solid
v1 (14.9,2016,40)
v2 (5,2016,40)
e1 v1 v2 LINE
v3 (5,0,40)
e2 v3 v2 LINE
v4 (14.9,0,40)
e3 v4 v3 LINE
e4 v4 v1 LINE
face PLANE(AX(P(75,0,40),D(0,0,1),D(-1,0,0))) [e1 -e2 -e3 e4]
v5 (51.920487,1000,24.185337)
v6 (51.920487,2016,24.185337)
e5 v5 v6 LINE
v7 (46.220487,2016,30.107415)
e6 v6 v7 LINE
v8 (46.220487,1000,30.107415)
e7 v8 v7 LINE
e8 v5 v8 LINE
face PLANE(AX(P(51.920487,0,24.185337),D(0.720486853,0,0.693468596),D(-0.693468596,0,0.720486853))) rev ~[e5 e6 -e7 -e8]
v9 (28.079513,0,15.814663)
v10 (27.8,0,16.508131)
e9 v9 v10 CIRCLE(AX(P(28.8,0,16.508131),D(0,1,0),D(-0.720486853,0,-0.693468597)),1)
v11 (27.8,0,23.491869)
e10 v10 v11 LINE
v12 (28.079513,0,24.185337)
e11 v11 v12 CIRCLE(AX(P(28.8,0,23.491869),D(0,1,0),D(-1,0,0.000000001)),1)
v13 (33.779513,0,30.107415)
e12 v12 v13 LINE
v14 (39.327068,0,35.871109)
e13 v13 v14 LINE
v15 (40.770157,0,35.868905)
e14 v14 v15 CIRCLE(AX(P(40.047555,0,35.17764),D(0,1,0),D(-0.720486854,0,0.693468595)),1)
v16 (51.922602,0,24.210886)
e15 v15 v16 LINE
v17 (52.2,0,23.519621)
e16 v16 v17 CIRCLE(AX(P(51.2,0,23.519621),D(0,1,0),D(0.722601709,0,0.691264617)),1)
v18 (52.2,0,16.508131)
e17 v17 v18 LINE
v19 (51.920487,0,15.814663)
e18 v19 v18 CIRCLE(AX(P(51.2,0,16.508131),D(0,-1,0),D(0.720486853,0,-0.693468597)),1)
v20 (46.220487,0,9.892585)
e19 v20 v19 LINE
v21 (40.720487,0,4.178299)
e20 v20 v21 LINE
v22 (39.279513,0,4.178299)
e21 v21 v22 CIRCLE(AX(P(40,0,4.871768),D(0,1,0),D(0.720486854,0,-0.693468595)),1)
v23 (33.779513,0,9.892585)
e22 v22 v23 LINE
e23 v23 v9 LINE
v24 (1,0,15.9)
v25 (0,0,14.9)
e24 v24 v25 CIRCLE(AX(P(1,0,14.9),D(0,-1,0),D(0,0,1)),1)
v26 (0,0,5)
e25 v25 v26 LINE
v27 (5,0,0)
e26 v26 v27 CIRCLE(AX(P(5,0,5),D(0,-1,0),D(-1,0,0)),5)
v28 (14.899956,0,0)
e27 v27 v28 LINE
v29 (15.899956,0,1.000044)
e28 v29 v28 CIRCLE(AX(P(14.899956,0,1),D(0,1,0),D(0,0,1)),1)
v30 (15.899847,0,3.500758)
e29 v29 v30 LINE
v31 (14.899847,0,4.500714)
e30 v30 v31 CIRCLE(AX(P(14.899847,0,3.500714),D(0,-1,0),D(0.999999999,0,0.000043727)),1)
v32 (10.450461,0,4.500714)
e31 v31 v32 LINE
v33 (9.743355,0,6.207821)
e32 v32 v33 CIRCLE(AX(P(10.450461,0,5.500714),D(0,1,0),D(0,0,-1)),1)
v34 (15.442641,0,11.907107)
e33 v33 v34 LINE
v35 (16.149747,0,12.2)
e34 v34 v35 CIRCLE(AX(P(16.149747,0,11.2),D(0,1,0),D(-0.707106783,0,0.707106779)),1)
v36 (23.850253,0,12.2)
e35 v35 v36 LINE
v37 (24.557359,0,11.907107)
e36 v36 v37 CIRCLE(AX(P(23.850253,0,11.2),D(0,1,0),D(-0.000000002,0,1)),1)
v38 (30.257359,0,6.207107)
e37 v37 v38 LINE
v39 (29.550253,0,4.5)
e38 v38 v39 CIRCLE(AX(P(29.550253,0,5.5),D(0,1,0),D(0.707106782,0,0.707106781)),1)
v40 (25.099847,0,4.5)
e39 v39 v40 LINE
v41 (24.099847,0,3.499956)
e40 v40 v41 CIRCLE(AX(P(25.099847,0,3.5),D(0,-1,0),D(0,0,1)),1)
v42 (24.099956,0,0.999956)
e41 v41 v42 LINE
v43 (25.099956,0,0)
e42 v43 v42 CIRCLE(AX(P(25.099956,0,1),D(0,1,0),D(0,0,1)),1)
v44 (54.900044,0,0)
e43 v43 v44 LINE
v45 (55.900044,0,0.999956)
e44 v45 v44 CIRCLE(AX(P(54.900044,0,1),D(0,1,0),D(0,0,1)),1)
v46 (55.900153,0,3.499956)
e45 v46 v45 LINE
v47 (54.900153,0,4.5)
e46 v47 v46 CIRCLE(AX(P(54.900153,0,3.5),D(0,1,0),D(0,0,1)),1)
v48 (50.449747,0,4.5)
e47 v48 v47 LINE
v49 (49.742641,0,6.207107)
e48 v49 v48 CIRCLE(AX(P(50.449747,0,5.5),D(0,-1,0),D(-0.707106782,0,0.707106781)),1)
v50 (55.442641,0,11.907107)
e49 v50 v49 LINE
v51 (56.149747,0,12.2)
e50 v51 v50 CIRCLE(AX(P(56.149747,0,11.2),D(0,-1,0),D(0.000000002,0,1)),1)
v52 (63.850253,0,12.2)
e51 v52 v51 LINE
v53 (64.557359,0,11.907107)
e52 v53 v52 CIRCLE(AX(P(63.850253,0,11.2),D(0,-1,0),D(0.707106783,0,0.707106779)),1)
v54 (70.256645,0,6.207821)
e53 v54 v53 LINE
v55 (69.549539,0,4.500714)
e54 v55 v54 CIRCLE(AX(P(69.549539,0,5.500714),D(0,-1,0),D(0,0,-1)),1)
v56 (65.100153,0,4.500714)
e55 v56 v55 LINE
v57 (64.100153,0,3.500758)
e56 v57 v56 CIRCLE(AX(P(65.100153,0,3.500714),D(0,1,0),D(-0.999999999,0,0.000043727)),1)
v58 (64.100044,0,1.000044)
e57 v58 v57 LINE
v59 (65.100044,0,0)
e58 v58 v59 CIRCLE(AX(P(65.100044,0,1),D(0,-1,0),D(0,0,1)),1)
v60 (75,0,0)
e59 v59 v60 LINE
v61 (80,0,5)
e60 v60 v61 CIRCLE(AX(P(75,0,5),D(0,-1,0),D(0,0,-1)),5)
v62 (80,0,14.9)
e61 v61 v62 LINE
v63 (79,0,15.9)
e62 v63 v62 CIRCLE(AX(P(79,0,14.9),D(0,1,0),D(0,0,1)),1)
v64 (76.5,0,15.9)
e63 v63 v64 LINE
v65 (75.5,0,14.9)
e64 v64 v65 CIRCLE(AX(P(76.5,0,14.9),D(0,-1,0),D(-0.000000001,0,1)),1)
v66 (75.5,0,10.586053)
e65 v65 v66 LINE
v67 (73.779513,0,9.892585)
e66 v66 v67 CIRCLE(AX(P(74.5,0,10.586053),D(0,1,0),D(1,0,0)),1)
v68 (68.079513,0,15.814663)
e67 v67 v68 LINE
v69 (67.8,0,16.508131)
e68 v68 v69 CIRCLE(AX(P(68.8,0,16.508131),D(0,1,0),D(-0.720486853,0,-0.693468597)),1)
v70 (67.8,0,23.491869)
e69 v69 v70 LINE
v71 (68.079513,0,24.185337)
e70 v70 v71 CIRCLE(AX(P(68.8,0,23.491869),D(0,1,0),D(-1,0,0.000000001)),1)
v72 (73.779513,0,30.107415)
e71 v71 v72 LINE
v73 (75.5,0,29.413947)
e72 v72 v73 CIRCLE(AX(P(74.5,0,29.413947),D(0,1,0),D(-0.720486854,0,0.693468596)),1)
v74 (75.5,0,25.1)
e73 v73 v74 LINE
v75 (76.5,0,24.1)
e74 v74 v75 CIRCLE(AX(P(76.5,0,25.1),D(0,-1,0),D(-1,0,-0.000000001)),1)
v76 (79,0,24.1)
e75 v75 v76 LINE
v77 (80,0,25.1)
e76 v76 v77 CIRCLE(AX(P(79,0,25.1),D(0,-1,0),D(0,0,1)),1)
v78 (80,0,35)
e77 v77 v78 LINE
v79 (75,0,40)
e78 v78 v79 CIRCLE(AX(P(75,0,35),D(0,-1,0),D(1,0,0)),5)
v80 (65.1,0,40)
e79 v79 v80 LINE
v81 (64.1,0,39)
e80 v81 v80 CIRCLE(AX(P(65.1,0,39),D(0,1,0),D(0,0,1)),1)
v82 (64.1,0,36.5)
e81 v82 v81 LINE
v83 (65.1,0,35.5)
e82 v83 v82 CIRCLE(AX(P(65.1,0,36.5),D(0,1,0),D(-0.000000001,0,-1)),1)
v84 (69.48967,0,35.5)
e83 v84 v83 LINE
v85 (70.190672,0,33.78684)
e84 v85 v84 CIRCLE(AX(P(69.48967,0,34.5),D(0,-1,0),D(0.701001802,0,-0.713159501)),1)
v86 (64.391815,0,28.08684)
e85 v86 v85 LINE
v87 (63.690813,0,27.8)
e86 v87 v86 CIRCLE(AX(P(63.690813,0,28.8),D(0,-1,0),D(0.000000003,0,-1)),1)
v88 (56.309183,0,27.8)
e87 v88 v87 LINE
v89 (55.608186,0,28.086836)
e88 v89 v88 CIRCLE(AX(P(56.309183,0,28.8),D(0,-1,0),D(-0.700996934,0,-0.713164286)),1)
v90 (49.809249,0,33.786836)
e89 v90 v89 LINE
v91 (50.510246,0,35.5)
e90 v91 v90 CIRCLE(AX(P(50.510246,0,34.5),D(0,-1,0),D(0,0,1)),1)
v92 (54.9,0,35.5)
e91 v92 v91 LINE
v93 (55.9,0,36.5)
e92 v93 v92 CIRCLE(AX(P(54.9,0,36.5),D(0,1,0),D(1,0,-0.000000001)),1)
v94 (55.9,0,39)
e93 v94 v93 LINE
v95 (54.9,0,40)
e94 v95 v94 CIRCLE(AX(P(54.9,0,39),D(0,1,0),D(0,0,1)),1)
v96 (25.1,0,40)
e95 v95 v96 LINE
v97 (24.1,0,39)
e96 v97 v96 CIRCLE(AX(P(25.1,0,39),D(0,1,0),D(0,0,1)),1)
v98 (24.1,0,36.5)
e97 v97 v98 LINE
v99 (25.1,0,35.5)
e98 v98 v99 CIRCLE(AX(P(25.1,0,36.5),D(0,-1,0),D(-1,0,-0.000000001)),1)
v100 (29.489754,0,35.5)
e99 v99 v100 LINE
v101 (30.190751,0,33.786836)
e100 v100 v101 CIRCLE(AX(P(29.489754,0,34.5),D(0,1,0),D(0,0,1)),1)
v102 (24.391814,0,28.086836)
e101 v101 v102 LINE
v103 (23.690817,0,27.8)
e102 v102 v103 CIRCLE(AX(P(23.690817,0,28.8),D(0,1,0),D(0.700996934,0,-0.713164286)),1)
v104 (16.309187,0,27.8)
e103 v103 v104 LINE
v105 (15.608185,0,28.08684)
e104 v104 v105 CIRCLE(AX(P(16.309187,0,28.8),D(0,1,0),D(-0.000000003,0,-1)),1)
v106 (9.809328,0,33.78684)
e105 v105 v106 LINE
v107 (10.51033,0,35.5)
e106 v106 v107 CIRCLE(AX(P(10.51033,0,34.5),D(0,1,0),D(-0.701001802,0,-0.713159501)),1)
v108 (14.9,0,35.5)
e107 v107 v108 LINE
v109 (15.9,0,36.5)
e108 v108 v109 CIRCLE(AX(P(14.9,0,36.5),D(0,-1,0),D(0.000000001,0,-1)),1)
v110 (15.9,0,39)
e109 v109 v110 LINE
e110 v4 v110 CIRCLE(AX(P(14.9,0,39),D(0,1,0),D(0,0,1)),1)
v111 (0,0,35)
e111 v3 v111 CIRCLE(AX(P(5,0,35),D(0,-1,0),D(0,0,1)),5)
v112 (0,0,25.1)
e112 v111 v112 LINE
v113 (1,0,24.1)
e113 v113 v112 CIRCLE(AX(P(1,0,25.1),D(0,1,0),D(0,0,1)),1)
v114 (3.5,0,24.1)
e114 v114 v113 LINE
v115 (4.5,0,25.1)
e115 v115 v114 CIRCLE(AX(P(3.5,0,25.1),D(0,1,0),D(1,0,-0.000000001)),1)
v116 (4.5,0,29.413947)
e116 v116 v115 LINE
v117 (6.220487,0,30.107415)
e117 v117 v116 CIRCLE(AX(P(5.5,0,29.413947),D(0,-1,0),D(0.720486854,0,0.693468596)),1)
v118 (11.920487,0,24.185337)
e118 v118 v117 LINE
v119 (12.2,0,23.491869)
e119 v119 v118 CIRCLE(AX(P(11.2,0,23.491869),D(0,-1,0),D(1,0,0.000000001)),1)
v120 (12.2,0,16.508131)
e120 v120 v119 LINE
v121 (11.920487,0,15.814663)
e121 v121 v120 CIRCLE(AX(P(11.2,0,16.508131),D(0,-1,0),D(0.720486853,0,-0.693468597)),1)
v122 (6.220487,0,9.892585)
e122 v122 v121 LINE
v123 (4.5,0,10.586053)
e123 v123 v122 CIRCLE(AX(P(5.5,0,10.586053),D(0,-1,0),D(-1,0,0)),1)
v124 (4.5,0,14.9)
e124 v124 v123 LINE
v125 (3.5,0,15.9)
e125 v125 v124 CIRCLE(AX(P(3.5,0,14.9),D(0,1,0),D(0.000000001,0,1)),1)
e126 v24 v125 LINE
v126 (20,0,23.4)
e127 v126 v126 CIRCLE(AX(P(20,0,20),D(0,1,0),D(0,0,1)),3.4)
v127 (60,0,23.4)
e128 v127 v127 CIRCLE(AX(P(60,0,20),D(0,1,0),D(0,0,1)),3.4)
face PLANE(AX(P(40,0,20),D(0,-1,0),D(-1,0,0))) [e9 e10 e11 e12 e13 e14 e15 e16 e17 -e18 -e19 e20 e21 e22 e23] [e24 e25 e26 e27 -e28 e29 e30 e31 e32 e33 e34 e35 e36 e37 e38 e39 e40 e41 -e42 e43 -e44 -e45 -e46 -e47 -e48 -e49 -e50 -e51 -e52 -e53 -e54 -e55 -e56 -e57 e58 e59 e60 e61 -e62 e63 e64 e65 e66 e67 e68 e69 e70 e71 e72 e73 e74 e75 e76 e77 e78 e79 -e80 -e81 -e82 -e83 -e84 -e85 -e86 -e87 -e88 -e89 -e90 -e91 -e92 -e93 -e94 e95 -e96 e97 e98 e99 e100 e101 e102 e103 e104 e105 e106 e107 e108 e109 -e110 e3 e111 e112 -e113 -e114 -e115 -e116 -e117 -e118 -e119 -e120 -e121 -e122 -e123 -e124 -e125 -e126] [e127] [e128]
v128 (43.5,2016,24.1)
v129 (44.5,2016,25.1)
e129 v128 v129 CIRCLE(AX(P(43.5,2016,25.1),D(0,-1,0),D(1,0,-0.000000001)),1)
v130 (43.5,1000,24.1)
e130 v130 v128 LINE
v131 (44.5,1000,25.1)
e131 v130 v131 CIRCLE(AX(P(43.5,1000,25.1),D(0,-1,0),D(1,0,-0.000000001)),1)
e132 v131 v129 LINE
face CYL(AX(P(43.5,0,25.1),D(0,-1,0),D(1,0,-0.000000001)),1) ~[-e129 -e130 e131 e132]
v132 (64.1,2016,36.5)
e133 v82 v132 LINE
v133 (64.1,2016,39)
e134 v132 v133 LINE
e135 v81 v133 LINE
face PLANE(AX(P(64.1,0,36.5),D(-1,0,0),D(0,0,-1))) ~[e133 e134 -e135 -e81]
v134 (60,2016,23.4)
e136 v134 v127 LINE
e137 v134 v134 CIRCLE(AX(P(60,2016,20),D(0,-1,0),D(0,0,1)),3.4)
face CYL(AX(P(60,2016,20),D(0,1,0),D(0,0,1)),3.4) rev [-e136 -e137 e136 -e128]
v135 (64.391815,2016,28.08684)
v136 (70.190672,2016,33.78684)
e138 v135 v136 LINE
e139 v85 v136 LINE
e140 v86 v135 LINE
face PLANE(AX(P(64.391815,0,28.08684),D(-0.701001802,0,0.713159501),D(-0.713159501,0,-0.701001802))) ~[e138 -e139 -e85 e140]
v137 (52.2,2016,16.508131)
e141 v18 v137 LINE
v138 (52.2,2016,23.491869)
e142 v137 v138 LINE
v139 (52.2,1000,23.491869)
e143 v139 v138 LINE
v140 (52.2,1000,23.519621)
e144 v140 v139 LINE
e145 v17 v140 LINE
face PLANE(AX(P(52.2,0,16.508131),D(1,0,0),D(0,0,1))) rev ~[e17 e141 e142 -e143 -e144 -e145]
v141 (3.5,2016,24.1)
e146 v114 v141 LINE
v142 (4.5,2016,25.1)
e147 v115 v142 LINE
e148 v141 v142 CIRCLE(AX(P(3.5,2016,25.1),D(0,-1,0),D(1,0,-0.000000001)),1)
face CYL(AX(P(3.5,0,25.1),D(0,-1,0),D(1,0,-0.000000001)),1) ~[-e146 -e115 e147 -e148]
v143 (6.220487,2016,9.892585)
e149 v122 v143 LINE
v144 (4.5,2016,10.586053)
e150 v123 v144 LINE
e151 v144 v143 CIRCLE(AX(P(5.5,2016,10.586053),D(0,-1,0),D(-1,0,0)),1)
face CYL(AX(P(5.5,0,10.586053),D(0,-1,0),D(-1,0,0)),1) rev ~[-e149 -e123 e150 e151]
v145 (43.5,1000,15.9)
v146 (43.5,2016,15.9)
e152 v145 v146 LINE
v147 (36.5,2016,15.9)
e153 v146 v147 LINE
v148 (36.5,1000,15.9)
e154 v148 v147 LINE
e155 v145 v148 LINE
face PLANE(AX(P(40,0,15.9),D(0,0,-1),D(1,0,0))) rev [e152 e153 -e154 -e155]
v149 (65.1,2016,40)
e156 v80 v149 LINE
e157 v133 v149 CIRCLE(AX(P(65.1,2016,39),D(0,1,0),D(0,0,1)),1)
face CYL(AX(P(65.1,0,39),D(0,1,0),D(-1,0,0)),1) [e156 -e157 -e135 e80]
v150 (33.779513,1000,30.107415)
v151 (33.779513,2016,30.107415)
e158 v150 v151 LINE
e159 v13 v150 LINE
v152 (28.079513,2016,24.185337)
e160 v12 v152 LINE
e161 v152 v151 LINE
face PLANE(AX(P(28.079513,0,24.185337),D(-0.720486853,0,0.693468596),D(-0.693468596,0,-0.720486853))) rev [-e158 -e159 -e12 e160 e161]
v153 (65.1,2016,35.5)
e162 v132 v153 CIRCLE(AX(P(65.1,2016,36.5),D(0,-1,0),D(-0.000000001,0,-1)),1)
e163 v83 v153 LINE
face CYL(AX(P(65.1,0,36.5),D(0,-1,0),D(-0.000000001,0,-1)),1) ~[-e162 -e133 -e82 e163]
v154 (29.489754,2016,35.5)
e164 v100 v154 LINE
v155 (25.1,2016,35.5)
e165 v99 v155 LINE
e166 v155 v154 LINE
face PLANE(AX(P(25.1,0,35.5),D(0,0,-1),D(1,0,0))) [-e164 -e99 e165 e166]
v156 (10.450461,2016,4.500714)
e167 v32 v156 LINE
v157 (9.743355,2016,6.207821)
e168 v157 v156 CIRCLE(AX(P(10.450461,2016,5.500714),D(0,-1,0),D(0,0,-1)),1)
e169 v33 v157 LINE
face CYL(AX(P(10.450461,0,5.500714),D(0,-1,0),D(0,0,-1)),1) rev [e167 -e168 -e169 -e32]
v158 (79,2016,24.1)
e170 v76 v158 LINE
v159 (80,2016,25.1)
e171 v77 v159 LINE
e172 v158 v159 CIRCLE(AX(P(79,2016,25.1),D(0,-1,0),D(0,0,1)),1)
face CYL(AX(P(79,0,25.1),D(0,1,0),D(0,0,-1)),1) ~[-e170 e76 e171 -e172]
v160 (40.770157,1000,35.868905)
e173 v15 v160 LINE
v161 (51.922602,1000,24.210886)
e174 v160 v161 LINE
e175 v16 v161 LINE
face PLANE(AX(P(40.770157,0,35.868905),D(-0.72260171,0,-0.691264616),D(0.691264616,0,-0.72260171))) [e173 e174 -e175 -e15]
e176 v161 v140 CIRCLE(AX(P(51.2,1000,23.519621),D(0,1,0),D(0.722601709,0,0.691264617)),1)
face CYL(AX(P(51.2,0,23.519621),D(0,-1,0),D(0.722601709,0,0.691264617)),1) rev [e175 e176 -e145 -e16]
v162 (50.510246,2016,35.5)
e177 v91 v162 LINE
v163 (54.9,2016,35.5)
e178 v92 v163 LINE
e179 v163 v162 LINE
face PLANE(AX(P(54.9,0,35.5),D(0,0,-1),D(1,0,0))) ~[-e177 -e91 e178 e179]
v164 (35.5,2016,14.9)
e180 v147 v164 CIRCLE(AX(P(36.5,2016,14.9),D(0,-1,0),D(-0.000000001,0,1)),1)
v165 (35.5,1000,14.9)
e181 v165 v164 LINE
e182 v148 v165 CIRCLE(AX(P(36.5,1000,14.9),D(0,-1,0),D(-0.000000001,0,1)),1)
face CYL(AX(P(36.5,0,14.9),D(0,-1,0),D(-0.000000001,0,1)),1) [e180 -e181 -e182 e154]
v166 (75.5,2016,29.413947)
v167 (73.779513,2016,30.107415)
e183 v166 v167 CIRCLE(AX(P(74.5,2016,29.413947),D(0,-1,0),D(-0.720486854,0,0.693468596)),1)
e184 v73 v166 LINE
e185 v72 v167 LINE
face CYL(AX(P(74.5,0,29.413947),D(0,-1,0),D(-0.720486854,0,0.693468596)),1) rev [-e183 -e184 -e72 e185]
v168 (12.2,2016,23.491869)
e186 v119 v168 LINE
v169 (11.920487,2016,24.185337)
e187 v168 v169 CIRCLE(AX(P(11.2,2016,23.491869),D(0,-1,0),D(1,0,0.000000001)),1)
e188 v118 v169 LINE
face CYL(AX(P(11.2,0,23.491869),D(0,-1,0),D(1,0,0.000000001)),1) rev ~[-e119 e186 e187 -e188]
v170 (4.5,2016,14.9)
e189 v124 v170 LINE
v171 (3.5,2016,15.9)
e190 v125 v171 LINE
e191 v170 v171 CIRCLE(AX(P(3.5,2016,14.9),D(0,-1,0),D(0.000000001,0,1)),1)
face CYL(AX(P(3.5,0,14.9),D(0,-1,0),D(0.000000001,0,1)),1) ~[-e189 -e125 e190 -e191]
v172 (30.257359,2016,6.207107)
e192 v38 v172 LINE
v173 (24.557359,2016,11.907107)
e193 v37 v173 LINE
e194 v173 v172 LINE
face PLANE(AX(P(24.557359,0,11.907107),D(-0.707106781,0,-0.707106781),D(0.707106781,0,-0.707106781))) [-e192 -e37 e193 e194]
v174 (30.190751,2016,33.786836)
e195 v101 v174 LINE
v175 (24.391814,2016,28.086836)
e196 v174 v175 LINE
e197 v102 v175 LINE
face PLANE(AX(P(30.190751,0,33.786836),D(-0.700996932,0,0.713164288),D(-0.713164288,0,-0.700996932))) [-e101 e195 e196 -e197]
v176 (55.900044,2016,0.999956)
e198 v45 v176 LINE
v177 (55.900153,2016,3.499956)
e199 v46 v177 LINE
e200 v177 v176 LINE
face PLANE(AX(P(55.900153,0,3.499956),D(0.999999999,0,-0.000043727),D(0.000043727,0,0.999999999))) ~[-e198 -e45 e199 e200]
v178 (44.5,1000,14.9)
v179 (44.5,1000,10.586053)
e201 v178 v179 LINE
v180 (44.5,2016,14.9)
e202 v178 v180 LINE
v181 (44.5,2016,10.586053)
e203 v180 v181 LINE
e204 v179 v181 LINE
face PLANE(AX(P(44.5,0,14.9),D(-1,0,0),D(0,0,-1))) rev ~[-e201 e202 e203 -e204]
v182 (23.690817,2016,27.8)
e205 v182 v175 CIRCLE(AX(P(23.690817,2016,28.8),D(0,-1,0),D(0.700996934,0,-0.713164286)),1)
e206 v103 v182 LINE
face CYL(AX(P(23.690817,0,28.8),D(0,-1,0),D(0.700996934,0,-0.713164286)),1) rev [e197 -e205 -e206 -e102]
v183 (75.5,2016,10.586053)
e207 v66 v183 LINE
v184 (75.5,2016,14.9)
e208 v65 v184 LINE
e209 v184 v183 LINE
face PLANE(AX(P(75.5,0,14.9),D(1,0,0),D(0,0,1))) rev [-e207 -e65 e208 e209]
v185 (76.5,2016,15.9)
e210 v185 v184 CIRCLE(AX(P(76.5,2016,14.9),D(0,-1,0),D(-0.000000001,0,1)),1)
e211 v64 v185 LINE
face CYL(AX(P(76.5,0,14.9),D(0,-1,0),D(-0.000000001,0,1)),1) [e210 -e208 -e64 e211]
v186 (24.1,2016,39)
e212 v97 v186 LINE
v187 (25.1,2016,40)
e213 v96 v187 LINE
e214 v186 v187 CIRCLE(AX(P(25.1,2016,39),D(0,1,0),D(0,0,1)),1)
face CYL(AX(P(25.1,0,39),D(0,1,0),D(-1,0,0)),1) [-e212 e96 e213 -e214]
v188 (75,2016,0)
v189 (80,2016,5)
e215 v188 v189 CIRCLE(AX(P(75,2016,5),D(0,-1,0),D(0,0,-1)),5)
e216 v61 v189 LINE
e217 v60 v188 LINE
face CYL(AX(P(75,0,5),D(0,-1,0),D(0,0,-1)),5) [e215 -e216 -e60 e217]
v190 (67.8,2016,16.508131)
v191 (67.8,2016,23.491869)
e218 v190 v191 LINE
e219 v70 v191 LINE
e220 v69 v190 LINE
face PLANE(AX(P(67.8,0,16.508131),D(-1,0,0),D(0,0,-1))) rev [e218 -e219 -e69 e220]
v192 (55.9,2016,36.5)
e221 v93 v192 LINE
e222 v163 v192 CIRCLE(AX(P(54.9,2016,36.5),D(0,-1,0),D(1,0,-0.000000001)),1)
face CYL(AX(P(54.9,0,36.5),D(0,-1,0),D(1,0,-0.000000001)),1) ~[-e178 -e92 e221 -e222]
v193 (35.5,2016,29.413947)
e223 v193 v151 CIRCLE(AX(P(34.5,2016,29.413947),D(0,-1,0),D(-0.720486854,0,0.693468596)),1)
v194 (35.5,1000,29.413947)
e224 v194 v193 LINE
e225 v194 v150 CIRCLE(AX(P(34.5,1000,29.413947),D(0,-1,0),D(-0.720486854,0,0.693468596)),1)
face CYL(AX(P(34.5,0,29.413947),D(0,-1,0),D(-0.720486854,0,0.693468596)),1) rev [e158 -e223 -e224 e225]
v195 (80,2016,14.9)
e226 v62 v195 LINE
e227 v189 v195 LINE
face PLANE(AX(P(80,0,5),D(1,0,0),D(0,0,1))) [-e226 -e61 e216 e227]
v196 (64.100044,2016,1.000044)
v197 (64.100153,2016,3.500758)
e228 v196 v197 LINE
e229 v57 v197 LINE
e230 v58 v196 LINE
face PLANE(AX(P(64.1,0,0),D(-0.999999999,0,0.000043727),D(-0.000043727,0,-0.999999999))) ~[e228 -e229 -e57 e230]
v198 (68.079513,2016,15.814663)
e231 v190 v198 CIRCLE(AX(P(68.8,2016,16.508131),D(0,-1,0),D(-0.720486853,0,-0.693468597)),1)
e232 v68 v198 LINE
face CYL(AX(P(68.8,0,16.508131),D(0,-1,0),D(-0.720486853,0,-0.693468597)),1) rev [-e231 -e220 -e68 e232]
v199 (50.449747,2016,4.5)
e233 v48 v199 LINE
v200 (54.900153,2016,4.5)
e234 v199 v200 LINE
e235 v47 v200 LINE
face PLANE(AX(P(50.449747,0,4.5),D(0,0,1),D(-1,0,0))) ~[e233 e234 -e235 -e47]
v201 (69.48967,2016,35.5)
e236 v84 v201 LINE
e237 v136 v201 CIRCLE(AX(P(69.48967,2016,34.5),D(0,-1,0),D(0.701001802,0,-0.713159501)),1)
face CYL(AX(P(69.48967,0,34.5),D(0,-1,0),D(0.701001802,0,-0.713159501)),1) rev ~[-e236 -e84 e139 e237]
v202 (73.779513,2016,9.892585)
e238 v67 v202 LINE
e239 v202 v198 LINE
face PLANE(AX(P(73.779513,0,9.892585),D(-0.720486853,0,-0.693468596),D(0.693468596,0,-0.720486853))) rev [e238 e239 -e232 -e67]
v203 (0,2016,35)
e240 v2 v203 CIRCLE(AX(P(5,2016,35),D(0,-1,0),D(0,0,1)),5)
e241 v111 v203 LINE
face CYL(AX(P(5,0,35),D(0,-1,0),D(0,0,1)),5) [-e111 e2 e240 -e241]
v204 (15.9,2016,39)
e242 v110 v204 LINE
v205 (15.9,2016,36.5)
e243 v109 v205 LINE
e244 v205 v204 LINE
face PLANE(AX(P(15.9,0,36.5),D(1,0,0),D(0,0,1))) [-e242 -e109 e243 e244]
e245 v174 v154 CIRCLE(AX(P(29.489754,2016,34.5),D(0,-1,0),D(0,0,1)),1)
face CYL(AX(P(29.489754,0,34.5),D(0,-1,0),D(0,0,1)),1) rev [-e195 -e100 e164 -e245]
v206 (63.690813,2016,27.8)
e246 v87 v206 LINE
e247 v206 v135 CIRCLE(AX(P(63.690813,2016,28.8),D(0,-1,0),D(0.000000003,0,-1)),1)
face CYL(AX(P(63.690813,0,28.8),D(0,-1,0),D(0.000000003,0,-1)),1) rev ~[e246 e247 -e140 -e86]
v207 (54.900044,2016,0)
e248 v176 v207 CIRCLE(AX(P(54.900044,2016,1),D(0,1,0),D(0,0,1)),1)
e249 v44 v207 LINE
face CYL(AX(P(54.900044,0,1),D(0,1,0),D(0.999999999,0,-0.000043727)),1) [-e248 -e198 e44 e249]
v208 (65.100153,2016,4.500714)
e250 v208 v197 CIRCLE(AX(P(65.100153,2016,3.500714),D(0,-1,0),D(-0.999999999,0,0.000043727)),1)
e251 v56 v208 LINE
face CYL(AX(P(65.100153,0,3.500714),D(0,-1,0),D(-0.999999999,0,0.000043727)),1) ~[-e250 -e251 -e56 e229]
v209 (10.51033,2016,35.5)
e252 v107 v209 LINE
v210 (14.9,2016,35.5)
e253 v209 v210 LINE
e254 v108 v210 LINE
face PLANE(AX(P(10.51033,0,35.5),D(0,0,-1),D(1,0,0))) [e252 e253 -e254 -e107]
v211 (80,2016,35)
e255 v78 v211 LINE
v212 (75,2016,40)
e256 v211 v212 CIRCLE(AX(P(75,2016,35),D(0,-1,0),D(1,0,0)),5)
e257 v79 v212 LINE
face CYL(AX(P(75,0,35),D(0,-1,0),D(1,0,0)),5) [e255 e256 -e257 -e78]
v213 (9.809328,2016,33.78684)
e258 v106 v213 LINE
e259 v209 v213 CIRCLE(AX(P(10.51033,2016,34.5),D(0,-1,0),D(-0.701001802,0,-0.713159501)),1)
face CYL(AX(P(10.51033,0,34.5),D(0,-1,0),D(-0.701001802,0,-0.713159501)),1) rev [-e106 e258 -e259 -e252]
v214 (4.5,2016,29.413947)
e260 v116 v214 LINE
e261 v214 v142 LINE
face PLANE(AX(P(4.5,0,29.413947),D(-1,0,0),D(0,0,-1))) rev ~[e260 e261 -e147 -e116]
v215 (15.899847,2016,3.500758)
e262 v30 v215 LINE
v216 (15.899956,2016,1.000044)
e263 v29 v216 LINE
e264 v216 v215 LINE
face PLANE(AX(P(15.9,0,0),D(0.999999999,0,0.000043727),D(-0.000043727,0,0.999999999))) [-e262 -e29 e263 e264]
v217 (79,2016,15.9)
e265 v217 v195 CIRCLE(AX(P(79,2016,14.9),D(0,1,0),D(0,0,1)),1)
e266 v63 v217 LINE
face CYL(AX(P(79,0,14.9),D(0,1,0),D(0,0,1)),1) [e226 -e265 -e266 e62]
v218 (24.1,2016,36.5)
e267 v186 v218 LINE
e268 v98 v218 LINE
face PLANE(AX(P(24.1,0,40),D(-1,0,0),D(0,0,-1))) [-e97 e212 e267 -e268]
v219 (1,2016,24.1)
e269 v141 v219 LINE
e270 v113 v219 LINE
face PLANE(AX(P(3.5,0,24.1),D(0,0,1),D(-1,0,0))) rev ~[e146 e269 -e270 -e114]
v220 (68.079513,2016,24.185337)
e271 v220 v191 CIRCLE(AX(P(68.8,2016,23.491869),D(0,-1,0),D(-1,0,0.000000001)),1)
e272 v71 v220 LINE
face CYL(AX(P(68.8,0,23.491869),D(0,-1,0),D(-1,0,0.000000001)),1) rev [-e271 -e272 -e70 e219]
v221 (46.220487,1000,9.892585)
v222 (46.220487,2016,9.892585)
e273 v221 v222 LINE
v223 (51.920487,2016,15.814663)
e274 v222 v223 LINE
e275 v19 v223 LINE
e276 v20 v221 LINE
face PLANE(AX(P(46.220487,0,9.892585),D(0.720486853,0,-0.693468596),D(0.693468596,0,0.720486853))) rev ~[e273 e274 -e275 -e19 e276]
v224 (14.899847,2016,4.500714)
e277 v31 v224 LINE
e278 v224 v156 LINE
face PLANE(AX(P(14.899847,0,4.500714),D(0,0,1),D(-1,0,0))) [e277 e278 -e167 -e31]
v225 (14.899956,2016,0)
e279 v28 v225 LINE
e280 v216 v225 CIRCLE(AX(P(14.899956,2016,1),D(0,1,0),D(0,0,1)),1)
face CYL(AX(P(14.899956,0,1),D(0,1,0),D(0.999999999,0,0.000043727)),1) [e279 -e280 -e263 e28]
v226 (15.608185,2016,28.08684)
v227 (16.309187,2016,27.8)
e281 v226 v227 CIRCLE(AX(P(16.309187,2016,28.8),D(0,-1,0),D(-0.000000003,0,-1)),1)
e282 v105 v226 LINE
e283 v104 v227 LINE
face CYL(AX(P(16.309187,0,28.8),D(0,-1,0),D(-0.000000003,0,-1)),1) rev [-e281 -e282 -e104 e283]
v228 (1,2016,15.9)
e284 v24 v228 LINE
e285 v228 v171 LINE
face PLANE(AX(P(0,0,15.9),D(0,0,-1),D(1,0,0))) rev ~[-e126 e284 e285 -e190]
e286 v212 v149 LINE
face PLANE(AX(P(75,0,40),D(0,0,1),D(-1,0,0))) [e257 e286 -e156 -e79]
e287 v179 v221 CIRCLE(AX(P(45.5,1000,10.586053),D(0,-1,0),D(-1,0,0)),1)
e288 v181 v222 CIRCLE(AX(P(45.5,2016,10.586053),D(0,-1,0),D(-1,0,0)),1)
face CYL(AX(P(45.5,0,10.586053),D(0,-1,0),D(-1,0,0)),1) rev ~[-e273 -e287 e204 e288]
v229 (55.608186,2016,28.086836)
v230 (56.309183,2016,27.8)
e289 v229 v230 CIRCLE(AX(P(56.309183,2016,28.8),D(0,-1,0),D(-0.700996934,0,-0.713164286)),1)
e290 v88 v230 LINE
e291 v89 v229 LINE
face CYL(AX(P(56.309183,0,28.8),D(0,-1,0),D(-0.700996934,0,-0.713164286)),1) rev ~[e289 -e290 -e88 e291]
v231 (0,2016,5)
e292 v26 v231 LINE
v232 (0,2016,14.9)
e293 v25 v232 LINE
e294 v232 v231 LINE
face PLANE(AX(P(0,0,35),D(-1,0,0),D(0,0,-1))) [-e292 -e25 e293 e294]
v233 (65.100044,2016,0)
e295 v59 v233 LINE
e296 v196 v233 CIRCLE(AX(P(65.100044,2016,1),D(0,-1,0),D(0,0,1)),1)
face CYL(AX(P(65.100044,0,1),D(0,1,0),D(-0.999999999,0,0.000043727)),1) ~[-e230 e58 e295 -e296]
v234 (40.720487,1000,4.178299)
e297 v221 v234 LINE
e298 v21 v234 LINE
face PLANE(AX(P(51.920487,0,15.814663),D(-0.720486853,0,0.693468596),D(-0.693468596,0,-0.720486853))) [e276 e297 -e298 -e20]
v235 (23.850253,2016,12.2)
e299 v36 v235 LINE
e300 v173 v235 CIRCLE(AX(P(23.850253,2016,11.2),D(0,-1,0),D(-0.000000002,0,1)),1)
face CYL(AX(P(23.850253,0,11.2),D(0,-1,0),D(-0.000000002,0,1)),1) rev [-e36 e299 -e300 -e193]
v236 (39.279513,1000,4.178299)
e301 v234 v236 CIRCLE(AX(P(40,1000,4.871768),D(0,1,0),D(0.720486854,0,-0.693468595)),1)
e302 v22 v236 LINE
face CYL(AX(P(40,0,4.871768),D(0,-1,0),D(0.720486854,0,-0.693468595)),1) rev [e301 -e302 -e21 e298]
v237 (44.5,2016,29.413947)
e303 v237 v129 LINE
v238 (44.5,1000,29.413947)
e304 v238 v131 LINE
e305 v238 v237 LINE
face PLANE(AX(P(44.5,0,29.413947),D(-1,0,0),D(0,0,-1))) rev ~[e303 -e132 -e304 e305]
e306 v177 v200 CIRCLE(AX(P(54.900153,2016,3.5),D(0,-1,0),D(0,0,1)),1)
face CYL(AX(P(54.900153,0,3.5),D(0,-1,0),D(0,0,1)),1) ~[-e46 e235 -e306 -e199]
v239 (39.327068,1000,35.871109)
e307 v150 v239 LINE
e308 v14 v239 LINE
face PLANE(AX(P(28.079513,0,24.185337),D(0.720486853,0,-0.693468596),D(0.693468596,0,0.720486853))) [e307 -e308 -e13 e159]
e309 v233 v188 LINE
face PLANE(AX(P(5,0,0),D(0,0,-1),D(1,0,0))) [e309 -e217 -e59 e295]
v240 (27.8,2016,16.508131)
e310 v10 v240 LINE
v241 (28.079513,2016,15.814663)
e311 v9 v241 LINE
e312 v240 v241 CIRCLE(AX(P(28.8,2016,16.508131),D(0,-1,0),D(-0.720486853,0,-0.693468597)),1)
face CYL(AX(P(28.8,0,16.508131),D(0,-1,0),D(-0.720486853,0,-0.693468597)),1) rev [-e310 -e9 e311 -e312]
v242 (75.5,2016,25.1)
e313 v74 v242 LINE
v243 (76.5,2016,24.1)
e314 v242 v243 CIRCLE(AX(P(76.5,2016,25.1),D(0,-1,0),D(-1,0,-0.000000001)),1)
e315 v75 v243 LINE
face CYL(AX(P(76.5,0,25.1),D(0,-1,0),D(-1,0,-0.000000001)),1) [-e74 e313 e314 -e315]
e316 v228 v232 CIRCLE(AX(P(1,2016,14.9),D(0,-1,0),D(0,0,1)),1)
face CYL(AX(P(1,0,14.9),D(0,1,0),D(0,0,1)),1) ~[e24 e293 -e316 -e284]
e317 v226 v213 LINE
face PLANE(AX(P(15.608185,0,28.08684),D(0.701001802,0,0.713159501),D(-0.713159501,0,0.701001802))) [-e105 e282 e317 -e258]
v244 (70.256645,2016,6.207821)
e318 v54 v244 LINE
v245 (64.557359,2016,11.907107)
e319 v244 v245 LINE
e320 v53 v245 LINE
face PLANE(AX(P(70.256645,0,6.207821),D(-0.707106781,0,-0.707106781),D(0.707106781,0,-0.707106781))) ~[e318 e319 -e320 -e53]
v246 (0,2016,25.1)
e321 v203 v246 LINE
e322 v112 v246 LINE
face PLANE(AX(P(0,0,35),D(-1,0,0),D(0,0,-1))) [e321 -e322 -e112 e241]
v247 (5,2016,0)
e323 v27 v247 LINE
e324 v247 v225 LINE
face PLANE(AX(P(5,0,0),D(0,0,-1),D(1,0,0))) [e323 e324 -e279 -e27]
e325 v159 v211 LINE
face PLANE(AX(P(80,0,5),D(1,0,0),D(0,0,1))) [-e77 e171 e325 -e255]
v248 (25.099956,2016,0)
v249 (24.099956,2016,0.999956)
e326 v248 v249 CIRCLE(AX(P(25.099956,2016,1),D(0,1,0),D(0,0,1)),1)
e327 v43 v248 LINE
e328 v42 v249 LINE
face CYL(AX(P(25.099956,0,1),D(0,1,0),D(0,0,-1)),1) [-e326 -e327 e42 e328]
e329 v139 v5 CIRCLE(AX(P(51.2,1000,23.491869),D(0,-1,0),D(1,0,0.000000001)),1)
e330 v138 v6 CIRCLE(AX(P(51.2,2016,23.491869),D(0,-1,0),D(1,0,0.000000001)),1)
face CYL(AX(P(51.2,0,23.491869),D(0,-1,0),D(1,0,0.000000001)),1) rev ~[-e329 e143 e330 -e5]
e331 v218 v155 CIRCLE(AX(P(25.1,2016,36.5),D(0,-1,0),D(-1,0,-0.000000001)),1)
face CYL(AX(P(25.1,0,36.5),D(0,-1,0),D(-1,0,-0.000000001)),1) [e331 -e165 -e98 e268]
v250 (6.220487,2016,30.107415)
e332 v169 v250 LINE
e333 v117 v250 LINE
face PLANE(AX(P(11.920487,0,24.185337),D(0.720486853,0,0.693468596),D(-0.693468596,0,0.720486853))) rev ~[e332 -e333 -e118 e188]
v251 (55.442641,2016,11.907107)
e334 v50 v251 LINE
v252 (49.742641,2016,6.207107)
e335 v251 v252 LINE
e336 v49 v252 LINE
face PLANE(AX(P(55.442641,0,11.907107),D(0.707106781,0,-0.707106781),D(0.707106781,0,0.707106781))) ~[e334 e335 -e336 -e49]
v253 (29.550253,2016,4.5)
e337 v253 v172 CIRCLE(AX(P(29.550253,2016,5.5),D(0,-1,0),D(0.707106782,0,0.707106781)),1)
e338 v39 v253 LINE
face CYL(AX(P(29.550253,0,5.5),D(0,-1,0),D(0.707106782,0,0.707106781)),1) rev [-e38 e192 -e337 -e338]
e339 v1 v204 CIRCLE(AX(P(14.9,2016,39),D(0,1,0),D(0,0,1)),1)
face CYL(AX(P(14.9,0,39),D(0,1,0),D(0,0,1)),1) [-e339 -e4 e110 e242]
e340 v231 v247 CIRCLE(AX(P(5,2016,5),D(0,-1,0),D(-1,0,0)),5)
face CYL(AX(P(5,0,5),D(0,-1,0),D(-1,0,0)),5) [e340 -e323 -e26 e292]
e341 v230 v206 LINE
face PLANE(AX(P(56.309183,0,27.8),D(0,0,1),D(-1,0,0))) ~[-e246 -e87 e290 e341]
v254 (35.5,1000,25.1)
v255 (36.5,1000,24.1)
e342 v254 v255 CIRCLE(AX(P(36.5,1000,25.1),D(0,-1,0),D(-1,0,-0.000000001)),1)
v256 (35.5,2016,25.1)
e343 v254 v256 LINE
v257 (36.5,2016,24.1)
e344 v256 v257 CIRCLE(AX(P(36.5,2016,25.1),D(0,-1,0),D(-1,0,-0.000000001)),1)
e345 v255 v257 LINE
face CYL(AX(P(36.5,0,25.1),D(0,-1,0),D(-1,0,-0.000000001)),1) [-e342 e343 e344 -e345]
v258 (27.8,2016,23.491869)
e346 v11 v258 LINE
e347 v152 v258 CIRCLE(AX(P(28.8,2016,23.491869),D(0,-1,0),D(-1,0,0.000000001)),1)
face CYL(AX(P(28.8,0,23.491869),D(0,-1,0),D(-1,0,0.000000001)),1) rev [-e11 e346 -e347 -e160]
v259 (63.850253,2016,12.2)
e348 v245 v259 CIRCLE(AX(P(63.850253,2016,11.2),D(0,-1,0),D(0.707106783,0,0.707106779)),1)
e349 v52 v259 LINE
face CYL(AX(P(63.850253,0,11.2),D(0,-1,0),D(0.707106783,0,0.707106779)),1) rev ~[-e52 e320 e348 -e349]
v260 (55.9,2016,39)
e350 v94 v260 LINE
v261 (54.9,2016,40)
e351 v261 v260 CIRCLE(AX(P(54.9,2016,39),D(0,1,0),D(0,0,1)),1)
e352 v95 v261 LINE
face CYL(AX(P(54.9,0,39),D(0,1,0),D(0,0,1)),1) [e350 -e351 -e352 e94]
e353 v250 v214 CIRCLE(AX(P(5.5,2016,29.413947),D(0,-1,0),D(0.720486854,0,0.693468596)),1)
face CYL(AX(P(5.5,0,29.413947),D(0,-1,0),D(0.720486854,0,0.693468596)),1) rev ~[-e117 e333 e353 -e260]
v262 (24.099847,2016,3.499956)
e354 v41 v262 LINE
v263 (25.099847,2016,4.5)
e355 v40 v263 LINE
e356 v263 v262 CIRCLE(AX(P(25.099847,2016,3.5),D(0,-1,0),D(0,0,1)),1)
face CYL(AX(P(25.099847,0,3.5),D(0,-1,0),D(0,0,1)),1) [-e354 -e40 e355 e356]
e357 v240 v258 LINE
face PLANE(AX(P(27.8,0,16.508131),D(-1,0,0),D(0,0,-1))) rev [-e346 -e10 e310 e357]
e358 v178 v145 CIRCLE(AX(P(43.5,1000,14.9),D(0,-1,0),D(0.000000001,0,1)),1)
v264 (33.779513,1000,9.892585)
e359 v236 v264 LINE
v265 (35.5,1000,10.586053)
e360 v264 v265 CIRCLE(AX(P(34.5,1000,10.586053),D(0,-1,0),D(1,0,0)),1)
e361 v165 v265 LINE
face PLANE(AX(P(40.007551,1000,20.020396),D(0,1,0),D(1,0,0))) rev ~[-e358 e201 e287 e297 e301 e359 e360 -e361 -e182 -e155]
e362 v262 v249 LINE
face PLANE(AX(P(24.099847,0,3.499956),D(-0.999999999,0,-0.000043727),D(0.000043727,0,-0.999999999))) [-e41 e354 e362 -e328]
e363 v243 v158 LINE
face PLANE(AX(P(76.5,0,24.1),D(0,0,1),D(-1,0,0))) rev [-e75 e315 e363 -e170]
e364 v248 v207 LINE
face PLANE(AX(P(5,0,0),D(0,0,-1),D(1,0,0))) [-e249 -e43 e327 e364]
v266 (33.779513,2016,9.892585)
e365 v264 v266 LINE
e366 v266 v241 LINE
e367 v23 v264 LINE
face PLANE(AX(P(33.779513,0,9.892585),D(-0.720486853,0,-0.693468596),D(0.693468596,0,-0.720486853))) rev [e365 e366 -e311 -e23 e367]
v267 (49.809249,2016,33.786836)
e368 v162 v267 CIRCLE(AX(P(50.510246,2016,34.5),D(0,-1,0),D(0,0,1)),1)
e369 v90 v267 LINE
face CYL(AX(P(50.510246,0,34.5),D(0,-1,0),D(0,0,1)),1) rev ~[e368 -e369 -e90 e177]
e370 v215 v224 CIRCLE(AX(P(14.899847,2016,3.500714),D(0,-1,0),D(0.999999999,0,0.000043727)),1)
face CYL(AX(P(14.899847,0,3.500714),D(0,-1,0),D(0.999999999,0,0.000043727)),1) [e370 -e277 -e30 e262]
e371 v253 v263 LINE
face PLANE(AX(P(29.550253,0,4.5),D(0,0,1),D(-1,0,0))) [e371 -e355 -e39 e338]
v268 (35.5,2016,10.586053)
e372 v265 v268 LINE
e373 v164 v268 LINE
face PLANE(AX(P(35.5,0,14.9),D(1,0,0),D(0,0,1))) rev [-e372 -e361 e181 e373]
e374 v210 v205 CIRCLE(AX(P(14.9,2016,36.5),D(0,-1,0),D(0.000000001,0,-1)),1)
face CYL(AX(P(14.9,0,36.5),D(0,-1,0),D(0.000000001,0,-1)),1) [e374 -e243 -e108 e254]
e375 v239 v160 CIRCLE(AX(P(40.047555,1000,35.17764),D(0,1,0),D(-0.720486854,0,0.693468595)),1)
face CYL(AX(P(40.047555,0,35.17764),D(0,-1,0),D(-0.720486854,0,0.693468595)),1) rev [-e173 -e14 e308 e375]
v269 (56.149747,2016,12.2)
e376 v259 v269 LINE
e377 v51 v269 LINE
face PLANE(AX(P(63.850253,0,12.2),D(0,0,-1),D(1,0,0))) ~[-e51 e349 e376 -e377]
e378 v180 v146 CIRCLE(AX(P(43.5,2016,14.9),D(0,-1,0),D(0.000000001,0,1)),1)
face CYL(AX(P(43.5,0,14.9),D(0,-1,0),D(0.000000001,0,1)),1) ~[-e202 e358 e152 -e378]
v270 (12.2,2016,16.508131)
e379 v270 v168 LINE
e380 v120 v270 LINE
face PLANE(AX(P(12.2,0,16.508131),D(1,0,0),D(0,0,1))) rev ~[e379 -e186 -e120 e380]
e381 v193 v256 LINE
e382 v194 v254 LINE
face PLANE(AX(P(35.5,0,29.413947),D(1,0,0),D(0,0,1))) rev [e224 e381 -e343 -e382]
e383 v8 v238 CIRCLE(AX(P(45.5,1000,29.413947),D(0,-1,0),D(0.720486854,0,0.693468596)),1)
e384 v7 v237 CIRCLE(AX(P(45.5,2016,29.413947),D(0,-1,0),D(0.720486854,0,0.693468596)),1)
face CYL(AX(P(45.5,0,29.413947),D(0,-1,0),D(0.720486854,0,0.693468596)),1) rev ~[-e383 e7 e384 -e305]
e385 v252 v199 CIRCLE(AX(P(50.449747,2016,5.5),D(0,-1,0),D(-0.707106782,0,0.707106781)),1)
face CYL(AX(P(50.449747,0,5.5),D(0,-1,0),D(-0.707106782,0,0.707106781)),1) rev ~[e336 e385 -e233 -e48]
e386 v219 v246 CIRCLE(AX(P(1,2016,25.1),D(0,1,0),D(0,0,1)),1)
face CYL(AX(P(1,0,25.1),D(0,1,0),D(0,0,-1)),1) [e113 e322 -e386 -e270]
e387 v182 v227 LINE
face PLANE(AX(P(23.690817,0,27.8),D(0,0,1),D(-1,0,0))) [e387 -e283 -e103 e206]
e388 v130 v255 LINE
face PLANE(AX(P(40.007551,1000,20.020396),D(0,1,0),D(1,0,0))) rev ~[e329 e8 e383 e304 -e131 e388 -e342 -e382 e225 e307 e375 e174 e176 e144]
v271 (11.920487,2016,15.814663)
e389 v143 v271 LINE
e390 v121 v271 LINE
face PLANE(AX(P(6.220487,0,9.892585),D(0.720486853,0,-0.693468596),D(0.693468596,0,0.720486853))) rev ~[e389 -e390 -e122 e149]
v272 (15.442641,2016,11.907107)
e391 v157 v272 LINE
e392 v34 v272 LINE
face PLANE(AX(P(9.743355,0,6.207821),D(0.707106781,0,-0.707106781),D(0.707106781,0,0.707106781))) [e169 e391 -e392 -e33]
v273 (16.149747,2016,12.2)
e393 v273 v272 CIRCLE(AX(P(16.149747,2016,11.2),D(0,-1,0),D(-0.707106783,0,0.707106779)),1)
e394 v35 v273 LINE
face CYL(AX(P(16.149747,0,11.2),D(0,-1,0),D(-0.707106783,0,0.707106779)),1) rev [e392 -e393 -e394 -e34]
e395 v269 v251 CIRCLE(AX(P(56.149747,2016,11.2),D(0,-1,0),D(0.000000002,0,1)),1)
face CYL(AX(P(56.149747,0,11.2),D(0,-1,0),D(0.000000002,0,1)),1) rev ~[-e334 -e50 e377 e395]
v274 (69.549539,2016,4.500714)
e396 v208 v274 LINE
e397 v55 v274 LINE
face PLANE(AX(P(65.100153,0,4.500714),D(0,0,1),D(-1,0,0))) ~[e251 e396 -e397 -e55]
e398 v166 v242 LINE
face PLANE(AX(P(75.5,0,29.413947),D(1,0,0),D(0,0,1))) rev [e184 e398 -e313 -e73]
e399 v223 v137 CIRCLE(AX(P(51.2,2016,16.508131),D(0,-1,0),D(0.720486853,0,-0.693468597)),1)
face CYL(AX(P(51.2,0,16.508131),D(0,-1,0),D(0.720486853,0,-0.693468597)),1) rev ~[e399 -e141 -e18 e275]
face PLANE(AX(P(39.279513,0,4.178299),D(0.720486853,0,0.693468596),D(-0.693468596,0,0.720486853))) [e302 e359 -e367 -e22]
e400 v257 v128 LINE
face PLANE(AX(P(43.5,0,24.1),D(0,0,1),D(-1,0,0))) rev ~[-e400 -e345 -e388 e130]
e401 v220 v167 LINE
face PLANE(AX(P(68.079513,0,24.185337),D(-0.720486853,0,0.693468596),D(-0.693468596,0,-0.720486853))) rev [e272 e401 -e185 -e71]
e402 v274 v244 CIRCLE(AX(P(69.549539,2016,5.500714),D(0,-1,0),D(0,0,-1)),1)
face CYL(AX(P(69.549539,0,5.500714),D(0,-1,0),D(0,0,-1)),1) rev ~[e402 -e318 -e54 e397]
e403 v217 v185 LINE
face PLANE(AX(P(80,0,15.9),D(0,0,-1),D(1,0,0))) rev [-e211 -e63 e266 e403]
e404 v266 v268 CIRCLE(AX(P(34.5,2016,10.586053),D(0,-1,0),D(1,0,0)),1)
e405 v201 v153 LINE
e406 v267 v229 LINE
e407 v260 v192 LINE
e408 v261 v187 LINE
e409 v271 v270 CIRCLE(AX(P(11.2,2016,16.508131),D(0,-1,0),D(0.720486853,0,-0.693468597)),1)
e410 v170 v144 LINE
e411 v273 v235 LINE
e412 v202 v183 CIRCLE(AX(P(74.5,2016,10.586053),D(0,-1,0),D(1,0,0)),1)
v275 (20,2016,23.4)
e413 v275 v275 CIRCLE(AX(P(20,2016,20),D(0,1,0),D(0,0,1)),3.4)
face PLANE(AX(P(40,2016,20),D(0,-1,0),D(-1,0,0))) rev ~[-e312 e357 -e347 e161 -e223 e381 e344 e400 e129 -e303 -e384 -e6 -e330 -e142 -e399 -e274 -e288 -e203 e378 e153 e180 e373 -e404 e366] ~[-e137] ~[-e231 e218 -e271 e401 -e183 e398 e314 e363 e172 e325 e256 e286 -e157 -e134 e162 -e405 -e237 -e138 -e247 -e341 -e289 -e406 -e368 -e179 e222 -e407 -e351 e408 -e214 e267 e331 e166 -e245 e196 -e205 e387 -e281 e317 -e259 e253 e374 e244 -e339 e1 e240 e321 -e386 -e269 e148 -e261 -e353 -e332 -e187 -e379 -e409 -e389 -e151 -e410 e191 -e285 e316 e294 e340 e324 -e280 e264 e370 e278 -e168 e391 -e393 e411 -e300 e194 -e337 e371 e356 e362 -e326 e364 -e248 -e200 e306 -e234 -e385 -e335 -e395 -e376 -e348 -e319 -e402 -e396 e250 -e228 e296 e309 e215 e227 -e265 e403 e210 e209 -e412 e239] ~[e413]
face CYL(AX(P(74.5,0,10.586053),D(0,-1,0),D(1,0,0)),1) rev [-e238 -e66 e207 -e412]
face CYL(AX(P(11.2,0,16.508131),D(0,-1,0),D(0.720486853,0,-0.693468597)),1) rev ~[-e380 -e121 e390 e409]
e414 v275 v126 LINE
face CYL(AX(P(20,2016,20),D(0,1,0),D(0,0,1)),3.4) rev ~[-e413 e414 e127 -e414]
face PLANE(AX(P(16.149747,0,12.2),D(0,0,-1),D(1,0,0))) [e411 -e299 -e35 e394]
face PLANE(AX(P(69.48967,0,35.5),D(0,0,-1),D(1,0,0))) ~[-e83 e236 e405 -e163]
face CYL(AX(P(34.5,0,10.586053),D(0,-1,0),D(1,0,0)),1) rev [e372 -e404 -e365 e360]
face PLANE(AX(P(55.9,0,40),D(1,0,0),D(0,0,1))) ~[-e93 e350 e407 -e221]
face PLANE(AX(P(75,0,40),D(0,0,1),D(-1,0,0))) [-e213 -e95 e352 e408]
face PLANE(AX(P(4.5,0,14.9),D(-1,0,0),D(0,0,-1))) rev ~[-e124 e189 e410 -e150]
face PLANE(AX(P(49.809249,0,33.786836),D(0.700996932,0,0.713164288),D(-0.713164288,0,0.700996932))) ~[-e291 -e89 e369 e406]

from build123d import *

# Parameters (mm, degrees)
BOSS_EXTRUDE1_DEPTH   = 2016
SKETCH3_R             = 3.4
CUT_EXTRUDE1_DEPTH    = 2018.983151565
CUT_EXTRUDE2_DEPTH    = 2018.983151565
FILLET1_R             = 1
FILLET2_R             = 1
FILLET3_R             = 1
CUT_EXTRUDE3_DEPTH    = 2018.983151565
CUT_EXTRUDE4_DEPTH    = 2018.983151565
FILLET4_R             = 1
FILLET5_R             = 1
FILLET6_R             = 1
FILLET7_R             = 1
FILLET8_R             = 1
FILLET9_R             = 1
FILLET10_R            = 1
FILLET11_R            = 1
MIRROR11_COPY_1_DEPTH = 2018.983151565
MIRROR11_COPY_2_DEPTH = 2018.983151565
CUT_EXTRUDE5_DEPTH    = 1000


with BuildPart() as part:
    # Sketch1 → Boss-Extrude1 (new body)
    with BuildSketch(Plane(origin=(0, 0, 0), x_dir=(1, 0, 0), z_dir=(0, 1, 0))):
        with BuildLine():
            Line((5, 0), (75, 0))
            ThreePointArc((75, 0), (78.535533906, -1.464466094), (80, -5))
            Line((80, -5), (80, -35))
            ThreePointArc((80, -35), (78.535533906, -38.535533906), (75, -40))
            Line((75, -40), (5, -40))
            ThreePointArc((5, -40), (1.464466094, -38.535533906), (0, -35))
            Line((0, -35), (0, -5))
            ThreePointArc((0, -5), (1.464466094, -1.464466094), (5, 0))
        make_face()
    extrude(amount=BOSS_EXTRUDE1_DEPTH)

    # Sketch3 → Cut-Extrude1 (cut, through all)
    with BuildSketch(Plane(origin=(0, 2016, 0), x_dir=(1, 0, 0), z_dir=(0, 1, 0))):
        with Locations(Location((20, -20, 0), (0, 0, 270))):
            Circle(SKETCH3_R)
    cut_extrude1 = extrude(amount=-CUT_EXTRUDE1_DEPTH, mode=Mode.SUBTRACT)

    # Mirror3: Cut-Extrude1 across plane
    add(cut_extrude1.mirror(Plane(origin=(40, 0, 0), x_dir=(0, 0, 1), z_dir=(1, 0, 0))), mode=Mode.SUBTRACT)

    # Sketch7 → Cut-Extrude2 (cut, through all)
    with BuildSketch(Plane(origin=(0, 0, 0), x_dir=(-1, 0, 0), z_dir=(0, -1, 0))):
        with BuildLine():
            Line((-15.9, -40), (-24.1, -40))
            Line((-24.1, -40), (-24.1, -36.5))
            ThreePointArc((-24.1, -36.5), (-24.392893219, -35.792893219), (-25.1, -35.5))
            Line((-25.1, -35.5), (-29.489753594, -35.5))
            ThreePointArc((-29.489753594, -35.5), (-30.415270825, -34.8787055), (-30.190750526, -33.786835712))
            Line((-30.190750526, -33.786835712), (-24.391814382, -28.086835712))
            ThreePointArc((-24.391814382, -28.086835712), (-24.069522951, -27.874482769), (-23.69081745, -27.8))
            Line((-23.69081745, -27.8), (-16.309186536, -27.8))
            ThreePointArc((-16.309186536, -27.8), (-15.930477876, -27.874484063), (-15.608184734, -28.086840499))
            Line((-15.608184734, -28.086840499), (-9.809327805, -33.786840499))
            ThreePointArc((-9.809327805, -33.786840499), (-9.584813669, -34.87870866), (-10.510329607, -35.5))
            Line((-10.510329607, -35.5), (-14.9, -35.5))
            ThreePointArc((-14.9, -35.5), (-15.607106781, -35.792893219), (-15.9, -36.5))
            Line((-15.9, -36.5), (-15.9, -40))
        make_face()
    cut_extrude2 = extrude(amount=-CUT_EXTRUDE2_DEPTH, mode=Mode.SUBTRACT)

    # Fillet1
    fillet1_edges = [part.edges().sort_by_distance(p)[0] for p in [
        (15.9, 1008, 40),
        (24.1, 1008, 40),
    ]]
    fillet(fillet1_edges, radius=FILLET1_R)

    # Mirror8: Cut-Extrude2 across plane
    add(cut_extrude2.mirror(Plane(origin=(40, 0, 0), x_dir=(0, 0, 1), z_dir=(1, 0, 0))), mode=Mode.SUBTRACT)

    # Fillet2
    fillet2_edges = [part.edges().sort_by_distance(p)[0] for p in [
        (55.9, 1008, 40),
    ]]
    fillet(fillet2_edges, radius=FILLET2_R)

    # Fillet3
    fillet3_edges = [part.edges().sort_by_distance(p)[0] for p in [
        (64.1, 1008, 40),
    ]]
    fillet(fillet3_edges, radius=FILLET3_R)

    # Sketch9 → Cut-Extrude3 (cut, through all)
    with BuildSketch(Plane(origin=(0, 0, 0), x_dir=(1, 0, 0), z_dir=(0, 1, 0))):
        with BuildLine():
            Line((14.899846923, -4.500713815), (10.450461284, -4.500713815))
            ThreePointArc((10.450461284, -4.500713815), (9.526581751, -5.118030383), (9.743354502, -6.207820596))
            Line((9.743354502, -6.207820596), (15.442640687, -11.907106781))
            ThreePointArc((15.442640687, -11.907106781), (15.767064036, -12.123879533), (16.149747468, -12.2))
            Line((16.149747468, -12.2), (23.850252532, -12.2))
            ThreePointArc((23.850252532, -12.2), (24.232935964, -12.123879533), (24.557359313, -11.907106781))
            Line((24.557359313, -11.907106781), (30.257359313, -6.207106781))
            ThreePointArc((30.257359313, -6.207106781), (30.474132064, -5.117316568), (29.550252532, -4.5))
            Line((29.550252532, -4.5), (25.099846964, -4.5))
            ThreePointArc((25.099846964, -4.5), (24.392724723, -4.207091321), (24.099846965, -3.499956273))
            Line((24.099846965, -3.499956273), (24.100000008, 0))
            Line((24.100000008, 0), (15.9, 0))
            Line((15.9, 0), (15.899846922, -3.500757542))
            ThreePointArc((15.899846922, -3.500757542), (15.606938244, -4.207836056), (14.899846923, -4.500713815))
        make_face()
    cut_extrude3 = extrude(amount=CUT_EXTRUDE3_DEPTH, mode=Mode.SUBTRACT)

    # Mirror9: Cut-Extrude3 across plane
    add(cut_extrude3.mirror(Plane(origin=(40, 0, 0), x_dir=(0, 0, 1), z_dir=(1, 0, 0))), mode=Mode.SUBTRACT)

    # Sketch10 → Cut-Extrude4 (cut, through all)
    with BuildSketch(Plane(origin=(0, 0, 0), x_dir=(1, 0, 0), z_dir=(0, 1, 0))):
        with BuildLine():
            Line((4.5, -14.9), (4.5, -10.58605332))
            ThreePointArc((4.5, -10.58605332), (5.126159695, -9.658560233), (6.220486853, -9.892584724))
            Line((6.220486853, -9.892584724), (11.920486853, -15.814662646))
            ThreePointArc((11.920486853, -15.814662646), (12.127493087, -16.134290938), (12.2, -16.508131242))
            Line((12.2, -16.508131242), (12.2, -23.491868758))
            ThreePointArc((12.2, -23.491868758), (12.127493087, -23.865709062), (11.920486853, -24.185337354))
            Line((11.920486853, -24.185337354), (6.220486853, -30.107415276))
            ThreePointArc((6.220486853, -30.107415276), (5.126159695, -30.341439767), (4.5, -29.41394668))
            Line((4.5, -29.41394668), (4.5, -25.1))
            ThreePointArc((4.5, -25.1), (4.207106781, -24.392893219), (3.5, -24.1))
            Line((3.5, -24.1), (0, -24.1))
            Line((0, -24.1), (0, -15.9))
            Line((0, -15.9), (3.5, -15.9))
            ThreePointArc((3.5, -15.9), (4.207106781, -15.607106781), (4.5, -14.9))
        make_face()
    cut_extrude4 = extrude(amount=CUT_EXTRUDE4_DEPTH, mode=Mode.SUBTRACT)

    # Fillet4
    fillet4_edges = [part.edges().sort_by_distance(p)[0] for p in [
        (24.100000008, 1008, 0),
    ]]
    fillet(fillet4_edges, radius=FILLET4_R)

    # Fillet5
    fillet5_edges = [part.edges().sort_by_distance(p)[0] for p in [
        (64.1, 1008, 0),
    ]]
    fillet(fillet5_edges, radius=FILLET5_R)

    # Fillet6
    fillet6_edges = [part.edges().sort_by_distance(p)[0] for p in [
        (55.899999992, 1008, 0),
    ]]
    fillet(fillet6_edges, radius=FILLET6_R)

    # Fillet7
    fillet7_edges = [part.edges().sort_by_distance(p)[0] for p in [
        (15.9, 1008, 0),
    ]]
    fillet(fillet7_edges, radius=FILLET7_R)

    # Fillet8
    fillet8_edges = [part.edges().sort_by_distance(p)[0] for p in [
        (0, 1008, 24.1),
    ]]
    fillet(fillet8_edges, radius=FILLET8_R)

    # Fillet9
    fillet9_edges = [part.edges().sort_by_distance(p)[0] for p in [
        (0, 1008, 15.9),
    ]]
    fillet(fillet9_edges, radius=FILLET9_R)

    # Mirror10: Cut-Extrude4 across plane
    add(cut_extrude4.mirror(Plane(origin=(40, 0, 0), x_dir=(0, 0, 1), z_dir=(1, 0, 0))), mode=Mode.SUBTRACT)

    # Fillet10
    fillet10_edges = [part.edges().sort_by_distance(p)[0] for p in [
        (80, 1008, 15.9),
    ]]
    fillet(fillet10_edges, radius=FILLET10_R)

    # Fillet11
    fillet11_edges = [part.edges().sort_by_distance(p)[0] for p in [
        (80, 1008, 24.1),
    ]]
    fillet(fillet11_edges, radius=FILLET11_R)

    # Mirror11 copy 1 sketch → Mirror11 copy 1 (cut, through all)
    with BuildSketch(Plane(origin=(40, 0, 0), x_dir=(1, 0, 0), z_dir=(0, 1, 0))):
        with BuildLine():
            Line((4.5, -14.9), (4.5, -10.58605332))
            ThreePointArc((4.5, -10.58605332), (5.126159695, -9.658560233), (6.220486853, -9.892584724))
            Line((6.220486853, -9.892584724), (11.920486853, -15.814662646))
            ThreePointArc((11.920486853, -15.814662646), (12.127493087, -16.134290938), (12.2, -16.508131242))
            Line((12.2, -16.508131242), (12.2, -23.491868758))
            ThreePointArc((12.2, -23.491868758), (12.127493087, -23.865709062), (11.920486853, -24.185337354))
            Line((11.920486853, -24.185337354), (6.220486853, -30.107415276))
            ThreePointArc((6.220486853, -30.107415276), (5.126159695, -30.341439767), (4.5, -29.41394668))
            Line((4.5, -29.41394668), (4.5, -25.1))
            ThreePointArc((4.5, -25.1), (4.207106781, -24.392893219), (3.5, -24.1))
            Line((3.5, -24.1), (0, -24.1))
            Line((0, -24.1), (0, -15.9))
            Line((0, -15.9), (3.5, -15.9))
            ThreePointArc((3.5, -15.9), (4.207106781, -15.607106781), (4.5, -14.9))
        make_face()
    extrude(amount=MIRROR11_COPY_1_DEPTH, mode=Mode.SUBTRACT)

    # Mirror11 copy 2 sketch → Mirror11 copy 2 (cut, through all)
    with BuildSketch(Plane(origin=(120, 0, 0), x_dir=(-1, 0, 0), z_dir=(0, 1, 0))):
        with BuildLine():
            Line((4.5, 14.9), (4.5, 10.58605332))
            ThreePointArc((4.5, 10.58605332), (5.126159695, 9.658560233), (6.220486853, 9.892584724))
            Line((6.220486853, 9.892584724), (11.920486853, 15.814662646))
            ThreePointArc((11.920486853, 15.814662646), (12.127493087, 16.134290938), (12.2, 16.508131242))
            Line((12.2, 16.508131242), (12.2, 23.491868758))
            ThreePointArc((12.2, 23.491868758), (12.127493087, 23.865709062), (11.920486853, 24.185337354))
            Line((11.920486853, 24.185337354), (6.220486853, 30.107415276))
            ThreePointArc((6.220486853, 30.107415276), (5.126159695, 30.341439767), (4.5, 29.41394668))
            Line((4.5, 29.41394668), (4.5, 25.1))
            ThreePointArc((4.5, 25.1), (4.207106781, 24.392893219), (3.5, 24.1))
            Line((3.5, 24.1), (0, 24.1))
            Line((0, 24.1), (0, 15.9))
            Line((0, 15.9), (3.5, 15.9))
            ThreePointArc((3.5, 15.9), (4.207106781, 15.607106781), (4.5, 14.9))
        make_face()
    extrude(amount=MIRROR11_COPY_2_DEPTH, mode=Mode.SUBTRACT)

    # Mirror12: Cut-Extrude4 across plane
    add(cut_extrude4.mirror(Plane.ZY.offset(-20)), mode=Mode.SUBTRACT)

    # Sketch12 → Cut-Extrude5 (cut)
    with BuildSketch(Plane(origin=(0, 0, 0), x_dir=(-1, 0, 0), z_dir=(0, -1, 0))):
        with BuildLine():
            Line((-28.079513147, -24.185337354), (-39.327067998, -35.871108628))
            ThreePointArc((-39.327067998, -35.871108628), (-40.049082116, -36.177638866), (-40.770156561, -35.868904648))
            Line((-40.770156561, -35.868904648), (-51.922601709, -24.210885791))
            ThreePointArc((-51.922601709, -24.210885791), (-52.128062958, -23.892044517), (-52.2, -23.519621175))
            Line((-52.2, -23.519621175), (-52.2, -16.508131242))
            ThreePointArc((-52.2, -16.508131242), (-52.127493087, -16.134290938), (-51.920486853, -15.814662646))
            Line((-51.920486853, -15.814662646), (-40.720486853, -4.17829901))
            ThreePointArc((-40.720486853, -4.17829901), (-40, -3.871767606), (-39.279513147, -4.17829901))
            Line((-39.279513147, -4.17829901), (-28.079513147, -15.814662646))
            ThreePointArc((-28.079513147, -15.814662646), (-27.872506913, -16.134290938), (-27.8, -16.508131242))
            Line((-27.8, -16.508131242), (-27.8, -23.491868758))
            ThreePointArc((-27.8, -23.491868758), (-27.872506913, -23.865709062), (-28.079513147, -24.185337354))
        make_face()
    extrude(amount=-CUT_EXTRUDE5_DEPTH, mode=Mode.SUBTRACT)


solid = part.part
